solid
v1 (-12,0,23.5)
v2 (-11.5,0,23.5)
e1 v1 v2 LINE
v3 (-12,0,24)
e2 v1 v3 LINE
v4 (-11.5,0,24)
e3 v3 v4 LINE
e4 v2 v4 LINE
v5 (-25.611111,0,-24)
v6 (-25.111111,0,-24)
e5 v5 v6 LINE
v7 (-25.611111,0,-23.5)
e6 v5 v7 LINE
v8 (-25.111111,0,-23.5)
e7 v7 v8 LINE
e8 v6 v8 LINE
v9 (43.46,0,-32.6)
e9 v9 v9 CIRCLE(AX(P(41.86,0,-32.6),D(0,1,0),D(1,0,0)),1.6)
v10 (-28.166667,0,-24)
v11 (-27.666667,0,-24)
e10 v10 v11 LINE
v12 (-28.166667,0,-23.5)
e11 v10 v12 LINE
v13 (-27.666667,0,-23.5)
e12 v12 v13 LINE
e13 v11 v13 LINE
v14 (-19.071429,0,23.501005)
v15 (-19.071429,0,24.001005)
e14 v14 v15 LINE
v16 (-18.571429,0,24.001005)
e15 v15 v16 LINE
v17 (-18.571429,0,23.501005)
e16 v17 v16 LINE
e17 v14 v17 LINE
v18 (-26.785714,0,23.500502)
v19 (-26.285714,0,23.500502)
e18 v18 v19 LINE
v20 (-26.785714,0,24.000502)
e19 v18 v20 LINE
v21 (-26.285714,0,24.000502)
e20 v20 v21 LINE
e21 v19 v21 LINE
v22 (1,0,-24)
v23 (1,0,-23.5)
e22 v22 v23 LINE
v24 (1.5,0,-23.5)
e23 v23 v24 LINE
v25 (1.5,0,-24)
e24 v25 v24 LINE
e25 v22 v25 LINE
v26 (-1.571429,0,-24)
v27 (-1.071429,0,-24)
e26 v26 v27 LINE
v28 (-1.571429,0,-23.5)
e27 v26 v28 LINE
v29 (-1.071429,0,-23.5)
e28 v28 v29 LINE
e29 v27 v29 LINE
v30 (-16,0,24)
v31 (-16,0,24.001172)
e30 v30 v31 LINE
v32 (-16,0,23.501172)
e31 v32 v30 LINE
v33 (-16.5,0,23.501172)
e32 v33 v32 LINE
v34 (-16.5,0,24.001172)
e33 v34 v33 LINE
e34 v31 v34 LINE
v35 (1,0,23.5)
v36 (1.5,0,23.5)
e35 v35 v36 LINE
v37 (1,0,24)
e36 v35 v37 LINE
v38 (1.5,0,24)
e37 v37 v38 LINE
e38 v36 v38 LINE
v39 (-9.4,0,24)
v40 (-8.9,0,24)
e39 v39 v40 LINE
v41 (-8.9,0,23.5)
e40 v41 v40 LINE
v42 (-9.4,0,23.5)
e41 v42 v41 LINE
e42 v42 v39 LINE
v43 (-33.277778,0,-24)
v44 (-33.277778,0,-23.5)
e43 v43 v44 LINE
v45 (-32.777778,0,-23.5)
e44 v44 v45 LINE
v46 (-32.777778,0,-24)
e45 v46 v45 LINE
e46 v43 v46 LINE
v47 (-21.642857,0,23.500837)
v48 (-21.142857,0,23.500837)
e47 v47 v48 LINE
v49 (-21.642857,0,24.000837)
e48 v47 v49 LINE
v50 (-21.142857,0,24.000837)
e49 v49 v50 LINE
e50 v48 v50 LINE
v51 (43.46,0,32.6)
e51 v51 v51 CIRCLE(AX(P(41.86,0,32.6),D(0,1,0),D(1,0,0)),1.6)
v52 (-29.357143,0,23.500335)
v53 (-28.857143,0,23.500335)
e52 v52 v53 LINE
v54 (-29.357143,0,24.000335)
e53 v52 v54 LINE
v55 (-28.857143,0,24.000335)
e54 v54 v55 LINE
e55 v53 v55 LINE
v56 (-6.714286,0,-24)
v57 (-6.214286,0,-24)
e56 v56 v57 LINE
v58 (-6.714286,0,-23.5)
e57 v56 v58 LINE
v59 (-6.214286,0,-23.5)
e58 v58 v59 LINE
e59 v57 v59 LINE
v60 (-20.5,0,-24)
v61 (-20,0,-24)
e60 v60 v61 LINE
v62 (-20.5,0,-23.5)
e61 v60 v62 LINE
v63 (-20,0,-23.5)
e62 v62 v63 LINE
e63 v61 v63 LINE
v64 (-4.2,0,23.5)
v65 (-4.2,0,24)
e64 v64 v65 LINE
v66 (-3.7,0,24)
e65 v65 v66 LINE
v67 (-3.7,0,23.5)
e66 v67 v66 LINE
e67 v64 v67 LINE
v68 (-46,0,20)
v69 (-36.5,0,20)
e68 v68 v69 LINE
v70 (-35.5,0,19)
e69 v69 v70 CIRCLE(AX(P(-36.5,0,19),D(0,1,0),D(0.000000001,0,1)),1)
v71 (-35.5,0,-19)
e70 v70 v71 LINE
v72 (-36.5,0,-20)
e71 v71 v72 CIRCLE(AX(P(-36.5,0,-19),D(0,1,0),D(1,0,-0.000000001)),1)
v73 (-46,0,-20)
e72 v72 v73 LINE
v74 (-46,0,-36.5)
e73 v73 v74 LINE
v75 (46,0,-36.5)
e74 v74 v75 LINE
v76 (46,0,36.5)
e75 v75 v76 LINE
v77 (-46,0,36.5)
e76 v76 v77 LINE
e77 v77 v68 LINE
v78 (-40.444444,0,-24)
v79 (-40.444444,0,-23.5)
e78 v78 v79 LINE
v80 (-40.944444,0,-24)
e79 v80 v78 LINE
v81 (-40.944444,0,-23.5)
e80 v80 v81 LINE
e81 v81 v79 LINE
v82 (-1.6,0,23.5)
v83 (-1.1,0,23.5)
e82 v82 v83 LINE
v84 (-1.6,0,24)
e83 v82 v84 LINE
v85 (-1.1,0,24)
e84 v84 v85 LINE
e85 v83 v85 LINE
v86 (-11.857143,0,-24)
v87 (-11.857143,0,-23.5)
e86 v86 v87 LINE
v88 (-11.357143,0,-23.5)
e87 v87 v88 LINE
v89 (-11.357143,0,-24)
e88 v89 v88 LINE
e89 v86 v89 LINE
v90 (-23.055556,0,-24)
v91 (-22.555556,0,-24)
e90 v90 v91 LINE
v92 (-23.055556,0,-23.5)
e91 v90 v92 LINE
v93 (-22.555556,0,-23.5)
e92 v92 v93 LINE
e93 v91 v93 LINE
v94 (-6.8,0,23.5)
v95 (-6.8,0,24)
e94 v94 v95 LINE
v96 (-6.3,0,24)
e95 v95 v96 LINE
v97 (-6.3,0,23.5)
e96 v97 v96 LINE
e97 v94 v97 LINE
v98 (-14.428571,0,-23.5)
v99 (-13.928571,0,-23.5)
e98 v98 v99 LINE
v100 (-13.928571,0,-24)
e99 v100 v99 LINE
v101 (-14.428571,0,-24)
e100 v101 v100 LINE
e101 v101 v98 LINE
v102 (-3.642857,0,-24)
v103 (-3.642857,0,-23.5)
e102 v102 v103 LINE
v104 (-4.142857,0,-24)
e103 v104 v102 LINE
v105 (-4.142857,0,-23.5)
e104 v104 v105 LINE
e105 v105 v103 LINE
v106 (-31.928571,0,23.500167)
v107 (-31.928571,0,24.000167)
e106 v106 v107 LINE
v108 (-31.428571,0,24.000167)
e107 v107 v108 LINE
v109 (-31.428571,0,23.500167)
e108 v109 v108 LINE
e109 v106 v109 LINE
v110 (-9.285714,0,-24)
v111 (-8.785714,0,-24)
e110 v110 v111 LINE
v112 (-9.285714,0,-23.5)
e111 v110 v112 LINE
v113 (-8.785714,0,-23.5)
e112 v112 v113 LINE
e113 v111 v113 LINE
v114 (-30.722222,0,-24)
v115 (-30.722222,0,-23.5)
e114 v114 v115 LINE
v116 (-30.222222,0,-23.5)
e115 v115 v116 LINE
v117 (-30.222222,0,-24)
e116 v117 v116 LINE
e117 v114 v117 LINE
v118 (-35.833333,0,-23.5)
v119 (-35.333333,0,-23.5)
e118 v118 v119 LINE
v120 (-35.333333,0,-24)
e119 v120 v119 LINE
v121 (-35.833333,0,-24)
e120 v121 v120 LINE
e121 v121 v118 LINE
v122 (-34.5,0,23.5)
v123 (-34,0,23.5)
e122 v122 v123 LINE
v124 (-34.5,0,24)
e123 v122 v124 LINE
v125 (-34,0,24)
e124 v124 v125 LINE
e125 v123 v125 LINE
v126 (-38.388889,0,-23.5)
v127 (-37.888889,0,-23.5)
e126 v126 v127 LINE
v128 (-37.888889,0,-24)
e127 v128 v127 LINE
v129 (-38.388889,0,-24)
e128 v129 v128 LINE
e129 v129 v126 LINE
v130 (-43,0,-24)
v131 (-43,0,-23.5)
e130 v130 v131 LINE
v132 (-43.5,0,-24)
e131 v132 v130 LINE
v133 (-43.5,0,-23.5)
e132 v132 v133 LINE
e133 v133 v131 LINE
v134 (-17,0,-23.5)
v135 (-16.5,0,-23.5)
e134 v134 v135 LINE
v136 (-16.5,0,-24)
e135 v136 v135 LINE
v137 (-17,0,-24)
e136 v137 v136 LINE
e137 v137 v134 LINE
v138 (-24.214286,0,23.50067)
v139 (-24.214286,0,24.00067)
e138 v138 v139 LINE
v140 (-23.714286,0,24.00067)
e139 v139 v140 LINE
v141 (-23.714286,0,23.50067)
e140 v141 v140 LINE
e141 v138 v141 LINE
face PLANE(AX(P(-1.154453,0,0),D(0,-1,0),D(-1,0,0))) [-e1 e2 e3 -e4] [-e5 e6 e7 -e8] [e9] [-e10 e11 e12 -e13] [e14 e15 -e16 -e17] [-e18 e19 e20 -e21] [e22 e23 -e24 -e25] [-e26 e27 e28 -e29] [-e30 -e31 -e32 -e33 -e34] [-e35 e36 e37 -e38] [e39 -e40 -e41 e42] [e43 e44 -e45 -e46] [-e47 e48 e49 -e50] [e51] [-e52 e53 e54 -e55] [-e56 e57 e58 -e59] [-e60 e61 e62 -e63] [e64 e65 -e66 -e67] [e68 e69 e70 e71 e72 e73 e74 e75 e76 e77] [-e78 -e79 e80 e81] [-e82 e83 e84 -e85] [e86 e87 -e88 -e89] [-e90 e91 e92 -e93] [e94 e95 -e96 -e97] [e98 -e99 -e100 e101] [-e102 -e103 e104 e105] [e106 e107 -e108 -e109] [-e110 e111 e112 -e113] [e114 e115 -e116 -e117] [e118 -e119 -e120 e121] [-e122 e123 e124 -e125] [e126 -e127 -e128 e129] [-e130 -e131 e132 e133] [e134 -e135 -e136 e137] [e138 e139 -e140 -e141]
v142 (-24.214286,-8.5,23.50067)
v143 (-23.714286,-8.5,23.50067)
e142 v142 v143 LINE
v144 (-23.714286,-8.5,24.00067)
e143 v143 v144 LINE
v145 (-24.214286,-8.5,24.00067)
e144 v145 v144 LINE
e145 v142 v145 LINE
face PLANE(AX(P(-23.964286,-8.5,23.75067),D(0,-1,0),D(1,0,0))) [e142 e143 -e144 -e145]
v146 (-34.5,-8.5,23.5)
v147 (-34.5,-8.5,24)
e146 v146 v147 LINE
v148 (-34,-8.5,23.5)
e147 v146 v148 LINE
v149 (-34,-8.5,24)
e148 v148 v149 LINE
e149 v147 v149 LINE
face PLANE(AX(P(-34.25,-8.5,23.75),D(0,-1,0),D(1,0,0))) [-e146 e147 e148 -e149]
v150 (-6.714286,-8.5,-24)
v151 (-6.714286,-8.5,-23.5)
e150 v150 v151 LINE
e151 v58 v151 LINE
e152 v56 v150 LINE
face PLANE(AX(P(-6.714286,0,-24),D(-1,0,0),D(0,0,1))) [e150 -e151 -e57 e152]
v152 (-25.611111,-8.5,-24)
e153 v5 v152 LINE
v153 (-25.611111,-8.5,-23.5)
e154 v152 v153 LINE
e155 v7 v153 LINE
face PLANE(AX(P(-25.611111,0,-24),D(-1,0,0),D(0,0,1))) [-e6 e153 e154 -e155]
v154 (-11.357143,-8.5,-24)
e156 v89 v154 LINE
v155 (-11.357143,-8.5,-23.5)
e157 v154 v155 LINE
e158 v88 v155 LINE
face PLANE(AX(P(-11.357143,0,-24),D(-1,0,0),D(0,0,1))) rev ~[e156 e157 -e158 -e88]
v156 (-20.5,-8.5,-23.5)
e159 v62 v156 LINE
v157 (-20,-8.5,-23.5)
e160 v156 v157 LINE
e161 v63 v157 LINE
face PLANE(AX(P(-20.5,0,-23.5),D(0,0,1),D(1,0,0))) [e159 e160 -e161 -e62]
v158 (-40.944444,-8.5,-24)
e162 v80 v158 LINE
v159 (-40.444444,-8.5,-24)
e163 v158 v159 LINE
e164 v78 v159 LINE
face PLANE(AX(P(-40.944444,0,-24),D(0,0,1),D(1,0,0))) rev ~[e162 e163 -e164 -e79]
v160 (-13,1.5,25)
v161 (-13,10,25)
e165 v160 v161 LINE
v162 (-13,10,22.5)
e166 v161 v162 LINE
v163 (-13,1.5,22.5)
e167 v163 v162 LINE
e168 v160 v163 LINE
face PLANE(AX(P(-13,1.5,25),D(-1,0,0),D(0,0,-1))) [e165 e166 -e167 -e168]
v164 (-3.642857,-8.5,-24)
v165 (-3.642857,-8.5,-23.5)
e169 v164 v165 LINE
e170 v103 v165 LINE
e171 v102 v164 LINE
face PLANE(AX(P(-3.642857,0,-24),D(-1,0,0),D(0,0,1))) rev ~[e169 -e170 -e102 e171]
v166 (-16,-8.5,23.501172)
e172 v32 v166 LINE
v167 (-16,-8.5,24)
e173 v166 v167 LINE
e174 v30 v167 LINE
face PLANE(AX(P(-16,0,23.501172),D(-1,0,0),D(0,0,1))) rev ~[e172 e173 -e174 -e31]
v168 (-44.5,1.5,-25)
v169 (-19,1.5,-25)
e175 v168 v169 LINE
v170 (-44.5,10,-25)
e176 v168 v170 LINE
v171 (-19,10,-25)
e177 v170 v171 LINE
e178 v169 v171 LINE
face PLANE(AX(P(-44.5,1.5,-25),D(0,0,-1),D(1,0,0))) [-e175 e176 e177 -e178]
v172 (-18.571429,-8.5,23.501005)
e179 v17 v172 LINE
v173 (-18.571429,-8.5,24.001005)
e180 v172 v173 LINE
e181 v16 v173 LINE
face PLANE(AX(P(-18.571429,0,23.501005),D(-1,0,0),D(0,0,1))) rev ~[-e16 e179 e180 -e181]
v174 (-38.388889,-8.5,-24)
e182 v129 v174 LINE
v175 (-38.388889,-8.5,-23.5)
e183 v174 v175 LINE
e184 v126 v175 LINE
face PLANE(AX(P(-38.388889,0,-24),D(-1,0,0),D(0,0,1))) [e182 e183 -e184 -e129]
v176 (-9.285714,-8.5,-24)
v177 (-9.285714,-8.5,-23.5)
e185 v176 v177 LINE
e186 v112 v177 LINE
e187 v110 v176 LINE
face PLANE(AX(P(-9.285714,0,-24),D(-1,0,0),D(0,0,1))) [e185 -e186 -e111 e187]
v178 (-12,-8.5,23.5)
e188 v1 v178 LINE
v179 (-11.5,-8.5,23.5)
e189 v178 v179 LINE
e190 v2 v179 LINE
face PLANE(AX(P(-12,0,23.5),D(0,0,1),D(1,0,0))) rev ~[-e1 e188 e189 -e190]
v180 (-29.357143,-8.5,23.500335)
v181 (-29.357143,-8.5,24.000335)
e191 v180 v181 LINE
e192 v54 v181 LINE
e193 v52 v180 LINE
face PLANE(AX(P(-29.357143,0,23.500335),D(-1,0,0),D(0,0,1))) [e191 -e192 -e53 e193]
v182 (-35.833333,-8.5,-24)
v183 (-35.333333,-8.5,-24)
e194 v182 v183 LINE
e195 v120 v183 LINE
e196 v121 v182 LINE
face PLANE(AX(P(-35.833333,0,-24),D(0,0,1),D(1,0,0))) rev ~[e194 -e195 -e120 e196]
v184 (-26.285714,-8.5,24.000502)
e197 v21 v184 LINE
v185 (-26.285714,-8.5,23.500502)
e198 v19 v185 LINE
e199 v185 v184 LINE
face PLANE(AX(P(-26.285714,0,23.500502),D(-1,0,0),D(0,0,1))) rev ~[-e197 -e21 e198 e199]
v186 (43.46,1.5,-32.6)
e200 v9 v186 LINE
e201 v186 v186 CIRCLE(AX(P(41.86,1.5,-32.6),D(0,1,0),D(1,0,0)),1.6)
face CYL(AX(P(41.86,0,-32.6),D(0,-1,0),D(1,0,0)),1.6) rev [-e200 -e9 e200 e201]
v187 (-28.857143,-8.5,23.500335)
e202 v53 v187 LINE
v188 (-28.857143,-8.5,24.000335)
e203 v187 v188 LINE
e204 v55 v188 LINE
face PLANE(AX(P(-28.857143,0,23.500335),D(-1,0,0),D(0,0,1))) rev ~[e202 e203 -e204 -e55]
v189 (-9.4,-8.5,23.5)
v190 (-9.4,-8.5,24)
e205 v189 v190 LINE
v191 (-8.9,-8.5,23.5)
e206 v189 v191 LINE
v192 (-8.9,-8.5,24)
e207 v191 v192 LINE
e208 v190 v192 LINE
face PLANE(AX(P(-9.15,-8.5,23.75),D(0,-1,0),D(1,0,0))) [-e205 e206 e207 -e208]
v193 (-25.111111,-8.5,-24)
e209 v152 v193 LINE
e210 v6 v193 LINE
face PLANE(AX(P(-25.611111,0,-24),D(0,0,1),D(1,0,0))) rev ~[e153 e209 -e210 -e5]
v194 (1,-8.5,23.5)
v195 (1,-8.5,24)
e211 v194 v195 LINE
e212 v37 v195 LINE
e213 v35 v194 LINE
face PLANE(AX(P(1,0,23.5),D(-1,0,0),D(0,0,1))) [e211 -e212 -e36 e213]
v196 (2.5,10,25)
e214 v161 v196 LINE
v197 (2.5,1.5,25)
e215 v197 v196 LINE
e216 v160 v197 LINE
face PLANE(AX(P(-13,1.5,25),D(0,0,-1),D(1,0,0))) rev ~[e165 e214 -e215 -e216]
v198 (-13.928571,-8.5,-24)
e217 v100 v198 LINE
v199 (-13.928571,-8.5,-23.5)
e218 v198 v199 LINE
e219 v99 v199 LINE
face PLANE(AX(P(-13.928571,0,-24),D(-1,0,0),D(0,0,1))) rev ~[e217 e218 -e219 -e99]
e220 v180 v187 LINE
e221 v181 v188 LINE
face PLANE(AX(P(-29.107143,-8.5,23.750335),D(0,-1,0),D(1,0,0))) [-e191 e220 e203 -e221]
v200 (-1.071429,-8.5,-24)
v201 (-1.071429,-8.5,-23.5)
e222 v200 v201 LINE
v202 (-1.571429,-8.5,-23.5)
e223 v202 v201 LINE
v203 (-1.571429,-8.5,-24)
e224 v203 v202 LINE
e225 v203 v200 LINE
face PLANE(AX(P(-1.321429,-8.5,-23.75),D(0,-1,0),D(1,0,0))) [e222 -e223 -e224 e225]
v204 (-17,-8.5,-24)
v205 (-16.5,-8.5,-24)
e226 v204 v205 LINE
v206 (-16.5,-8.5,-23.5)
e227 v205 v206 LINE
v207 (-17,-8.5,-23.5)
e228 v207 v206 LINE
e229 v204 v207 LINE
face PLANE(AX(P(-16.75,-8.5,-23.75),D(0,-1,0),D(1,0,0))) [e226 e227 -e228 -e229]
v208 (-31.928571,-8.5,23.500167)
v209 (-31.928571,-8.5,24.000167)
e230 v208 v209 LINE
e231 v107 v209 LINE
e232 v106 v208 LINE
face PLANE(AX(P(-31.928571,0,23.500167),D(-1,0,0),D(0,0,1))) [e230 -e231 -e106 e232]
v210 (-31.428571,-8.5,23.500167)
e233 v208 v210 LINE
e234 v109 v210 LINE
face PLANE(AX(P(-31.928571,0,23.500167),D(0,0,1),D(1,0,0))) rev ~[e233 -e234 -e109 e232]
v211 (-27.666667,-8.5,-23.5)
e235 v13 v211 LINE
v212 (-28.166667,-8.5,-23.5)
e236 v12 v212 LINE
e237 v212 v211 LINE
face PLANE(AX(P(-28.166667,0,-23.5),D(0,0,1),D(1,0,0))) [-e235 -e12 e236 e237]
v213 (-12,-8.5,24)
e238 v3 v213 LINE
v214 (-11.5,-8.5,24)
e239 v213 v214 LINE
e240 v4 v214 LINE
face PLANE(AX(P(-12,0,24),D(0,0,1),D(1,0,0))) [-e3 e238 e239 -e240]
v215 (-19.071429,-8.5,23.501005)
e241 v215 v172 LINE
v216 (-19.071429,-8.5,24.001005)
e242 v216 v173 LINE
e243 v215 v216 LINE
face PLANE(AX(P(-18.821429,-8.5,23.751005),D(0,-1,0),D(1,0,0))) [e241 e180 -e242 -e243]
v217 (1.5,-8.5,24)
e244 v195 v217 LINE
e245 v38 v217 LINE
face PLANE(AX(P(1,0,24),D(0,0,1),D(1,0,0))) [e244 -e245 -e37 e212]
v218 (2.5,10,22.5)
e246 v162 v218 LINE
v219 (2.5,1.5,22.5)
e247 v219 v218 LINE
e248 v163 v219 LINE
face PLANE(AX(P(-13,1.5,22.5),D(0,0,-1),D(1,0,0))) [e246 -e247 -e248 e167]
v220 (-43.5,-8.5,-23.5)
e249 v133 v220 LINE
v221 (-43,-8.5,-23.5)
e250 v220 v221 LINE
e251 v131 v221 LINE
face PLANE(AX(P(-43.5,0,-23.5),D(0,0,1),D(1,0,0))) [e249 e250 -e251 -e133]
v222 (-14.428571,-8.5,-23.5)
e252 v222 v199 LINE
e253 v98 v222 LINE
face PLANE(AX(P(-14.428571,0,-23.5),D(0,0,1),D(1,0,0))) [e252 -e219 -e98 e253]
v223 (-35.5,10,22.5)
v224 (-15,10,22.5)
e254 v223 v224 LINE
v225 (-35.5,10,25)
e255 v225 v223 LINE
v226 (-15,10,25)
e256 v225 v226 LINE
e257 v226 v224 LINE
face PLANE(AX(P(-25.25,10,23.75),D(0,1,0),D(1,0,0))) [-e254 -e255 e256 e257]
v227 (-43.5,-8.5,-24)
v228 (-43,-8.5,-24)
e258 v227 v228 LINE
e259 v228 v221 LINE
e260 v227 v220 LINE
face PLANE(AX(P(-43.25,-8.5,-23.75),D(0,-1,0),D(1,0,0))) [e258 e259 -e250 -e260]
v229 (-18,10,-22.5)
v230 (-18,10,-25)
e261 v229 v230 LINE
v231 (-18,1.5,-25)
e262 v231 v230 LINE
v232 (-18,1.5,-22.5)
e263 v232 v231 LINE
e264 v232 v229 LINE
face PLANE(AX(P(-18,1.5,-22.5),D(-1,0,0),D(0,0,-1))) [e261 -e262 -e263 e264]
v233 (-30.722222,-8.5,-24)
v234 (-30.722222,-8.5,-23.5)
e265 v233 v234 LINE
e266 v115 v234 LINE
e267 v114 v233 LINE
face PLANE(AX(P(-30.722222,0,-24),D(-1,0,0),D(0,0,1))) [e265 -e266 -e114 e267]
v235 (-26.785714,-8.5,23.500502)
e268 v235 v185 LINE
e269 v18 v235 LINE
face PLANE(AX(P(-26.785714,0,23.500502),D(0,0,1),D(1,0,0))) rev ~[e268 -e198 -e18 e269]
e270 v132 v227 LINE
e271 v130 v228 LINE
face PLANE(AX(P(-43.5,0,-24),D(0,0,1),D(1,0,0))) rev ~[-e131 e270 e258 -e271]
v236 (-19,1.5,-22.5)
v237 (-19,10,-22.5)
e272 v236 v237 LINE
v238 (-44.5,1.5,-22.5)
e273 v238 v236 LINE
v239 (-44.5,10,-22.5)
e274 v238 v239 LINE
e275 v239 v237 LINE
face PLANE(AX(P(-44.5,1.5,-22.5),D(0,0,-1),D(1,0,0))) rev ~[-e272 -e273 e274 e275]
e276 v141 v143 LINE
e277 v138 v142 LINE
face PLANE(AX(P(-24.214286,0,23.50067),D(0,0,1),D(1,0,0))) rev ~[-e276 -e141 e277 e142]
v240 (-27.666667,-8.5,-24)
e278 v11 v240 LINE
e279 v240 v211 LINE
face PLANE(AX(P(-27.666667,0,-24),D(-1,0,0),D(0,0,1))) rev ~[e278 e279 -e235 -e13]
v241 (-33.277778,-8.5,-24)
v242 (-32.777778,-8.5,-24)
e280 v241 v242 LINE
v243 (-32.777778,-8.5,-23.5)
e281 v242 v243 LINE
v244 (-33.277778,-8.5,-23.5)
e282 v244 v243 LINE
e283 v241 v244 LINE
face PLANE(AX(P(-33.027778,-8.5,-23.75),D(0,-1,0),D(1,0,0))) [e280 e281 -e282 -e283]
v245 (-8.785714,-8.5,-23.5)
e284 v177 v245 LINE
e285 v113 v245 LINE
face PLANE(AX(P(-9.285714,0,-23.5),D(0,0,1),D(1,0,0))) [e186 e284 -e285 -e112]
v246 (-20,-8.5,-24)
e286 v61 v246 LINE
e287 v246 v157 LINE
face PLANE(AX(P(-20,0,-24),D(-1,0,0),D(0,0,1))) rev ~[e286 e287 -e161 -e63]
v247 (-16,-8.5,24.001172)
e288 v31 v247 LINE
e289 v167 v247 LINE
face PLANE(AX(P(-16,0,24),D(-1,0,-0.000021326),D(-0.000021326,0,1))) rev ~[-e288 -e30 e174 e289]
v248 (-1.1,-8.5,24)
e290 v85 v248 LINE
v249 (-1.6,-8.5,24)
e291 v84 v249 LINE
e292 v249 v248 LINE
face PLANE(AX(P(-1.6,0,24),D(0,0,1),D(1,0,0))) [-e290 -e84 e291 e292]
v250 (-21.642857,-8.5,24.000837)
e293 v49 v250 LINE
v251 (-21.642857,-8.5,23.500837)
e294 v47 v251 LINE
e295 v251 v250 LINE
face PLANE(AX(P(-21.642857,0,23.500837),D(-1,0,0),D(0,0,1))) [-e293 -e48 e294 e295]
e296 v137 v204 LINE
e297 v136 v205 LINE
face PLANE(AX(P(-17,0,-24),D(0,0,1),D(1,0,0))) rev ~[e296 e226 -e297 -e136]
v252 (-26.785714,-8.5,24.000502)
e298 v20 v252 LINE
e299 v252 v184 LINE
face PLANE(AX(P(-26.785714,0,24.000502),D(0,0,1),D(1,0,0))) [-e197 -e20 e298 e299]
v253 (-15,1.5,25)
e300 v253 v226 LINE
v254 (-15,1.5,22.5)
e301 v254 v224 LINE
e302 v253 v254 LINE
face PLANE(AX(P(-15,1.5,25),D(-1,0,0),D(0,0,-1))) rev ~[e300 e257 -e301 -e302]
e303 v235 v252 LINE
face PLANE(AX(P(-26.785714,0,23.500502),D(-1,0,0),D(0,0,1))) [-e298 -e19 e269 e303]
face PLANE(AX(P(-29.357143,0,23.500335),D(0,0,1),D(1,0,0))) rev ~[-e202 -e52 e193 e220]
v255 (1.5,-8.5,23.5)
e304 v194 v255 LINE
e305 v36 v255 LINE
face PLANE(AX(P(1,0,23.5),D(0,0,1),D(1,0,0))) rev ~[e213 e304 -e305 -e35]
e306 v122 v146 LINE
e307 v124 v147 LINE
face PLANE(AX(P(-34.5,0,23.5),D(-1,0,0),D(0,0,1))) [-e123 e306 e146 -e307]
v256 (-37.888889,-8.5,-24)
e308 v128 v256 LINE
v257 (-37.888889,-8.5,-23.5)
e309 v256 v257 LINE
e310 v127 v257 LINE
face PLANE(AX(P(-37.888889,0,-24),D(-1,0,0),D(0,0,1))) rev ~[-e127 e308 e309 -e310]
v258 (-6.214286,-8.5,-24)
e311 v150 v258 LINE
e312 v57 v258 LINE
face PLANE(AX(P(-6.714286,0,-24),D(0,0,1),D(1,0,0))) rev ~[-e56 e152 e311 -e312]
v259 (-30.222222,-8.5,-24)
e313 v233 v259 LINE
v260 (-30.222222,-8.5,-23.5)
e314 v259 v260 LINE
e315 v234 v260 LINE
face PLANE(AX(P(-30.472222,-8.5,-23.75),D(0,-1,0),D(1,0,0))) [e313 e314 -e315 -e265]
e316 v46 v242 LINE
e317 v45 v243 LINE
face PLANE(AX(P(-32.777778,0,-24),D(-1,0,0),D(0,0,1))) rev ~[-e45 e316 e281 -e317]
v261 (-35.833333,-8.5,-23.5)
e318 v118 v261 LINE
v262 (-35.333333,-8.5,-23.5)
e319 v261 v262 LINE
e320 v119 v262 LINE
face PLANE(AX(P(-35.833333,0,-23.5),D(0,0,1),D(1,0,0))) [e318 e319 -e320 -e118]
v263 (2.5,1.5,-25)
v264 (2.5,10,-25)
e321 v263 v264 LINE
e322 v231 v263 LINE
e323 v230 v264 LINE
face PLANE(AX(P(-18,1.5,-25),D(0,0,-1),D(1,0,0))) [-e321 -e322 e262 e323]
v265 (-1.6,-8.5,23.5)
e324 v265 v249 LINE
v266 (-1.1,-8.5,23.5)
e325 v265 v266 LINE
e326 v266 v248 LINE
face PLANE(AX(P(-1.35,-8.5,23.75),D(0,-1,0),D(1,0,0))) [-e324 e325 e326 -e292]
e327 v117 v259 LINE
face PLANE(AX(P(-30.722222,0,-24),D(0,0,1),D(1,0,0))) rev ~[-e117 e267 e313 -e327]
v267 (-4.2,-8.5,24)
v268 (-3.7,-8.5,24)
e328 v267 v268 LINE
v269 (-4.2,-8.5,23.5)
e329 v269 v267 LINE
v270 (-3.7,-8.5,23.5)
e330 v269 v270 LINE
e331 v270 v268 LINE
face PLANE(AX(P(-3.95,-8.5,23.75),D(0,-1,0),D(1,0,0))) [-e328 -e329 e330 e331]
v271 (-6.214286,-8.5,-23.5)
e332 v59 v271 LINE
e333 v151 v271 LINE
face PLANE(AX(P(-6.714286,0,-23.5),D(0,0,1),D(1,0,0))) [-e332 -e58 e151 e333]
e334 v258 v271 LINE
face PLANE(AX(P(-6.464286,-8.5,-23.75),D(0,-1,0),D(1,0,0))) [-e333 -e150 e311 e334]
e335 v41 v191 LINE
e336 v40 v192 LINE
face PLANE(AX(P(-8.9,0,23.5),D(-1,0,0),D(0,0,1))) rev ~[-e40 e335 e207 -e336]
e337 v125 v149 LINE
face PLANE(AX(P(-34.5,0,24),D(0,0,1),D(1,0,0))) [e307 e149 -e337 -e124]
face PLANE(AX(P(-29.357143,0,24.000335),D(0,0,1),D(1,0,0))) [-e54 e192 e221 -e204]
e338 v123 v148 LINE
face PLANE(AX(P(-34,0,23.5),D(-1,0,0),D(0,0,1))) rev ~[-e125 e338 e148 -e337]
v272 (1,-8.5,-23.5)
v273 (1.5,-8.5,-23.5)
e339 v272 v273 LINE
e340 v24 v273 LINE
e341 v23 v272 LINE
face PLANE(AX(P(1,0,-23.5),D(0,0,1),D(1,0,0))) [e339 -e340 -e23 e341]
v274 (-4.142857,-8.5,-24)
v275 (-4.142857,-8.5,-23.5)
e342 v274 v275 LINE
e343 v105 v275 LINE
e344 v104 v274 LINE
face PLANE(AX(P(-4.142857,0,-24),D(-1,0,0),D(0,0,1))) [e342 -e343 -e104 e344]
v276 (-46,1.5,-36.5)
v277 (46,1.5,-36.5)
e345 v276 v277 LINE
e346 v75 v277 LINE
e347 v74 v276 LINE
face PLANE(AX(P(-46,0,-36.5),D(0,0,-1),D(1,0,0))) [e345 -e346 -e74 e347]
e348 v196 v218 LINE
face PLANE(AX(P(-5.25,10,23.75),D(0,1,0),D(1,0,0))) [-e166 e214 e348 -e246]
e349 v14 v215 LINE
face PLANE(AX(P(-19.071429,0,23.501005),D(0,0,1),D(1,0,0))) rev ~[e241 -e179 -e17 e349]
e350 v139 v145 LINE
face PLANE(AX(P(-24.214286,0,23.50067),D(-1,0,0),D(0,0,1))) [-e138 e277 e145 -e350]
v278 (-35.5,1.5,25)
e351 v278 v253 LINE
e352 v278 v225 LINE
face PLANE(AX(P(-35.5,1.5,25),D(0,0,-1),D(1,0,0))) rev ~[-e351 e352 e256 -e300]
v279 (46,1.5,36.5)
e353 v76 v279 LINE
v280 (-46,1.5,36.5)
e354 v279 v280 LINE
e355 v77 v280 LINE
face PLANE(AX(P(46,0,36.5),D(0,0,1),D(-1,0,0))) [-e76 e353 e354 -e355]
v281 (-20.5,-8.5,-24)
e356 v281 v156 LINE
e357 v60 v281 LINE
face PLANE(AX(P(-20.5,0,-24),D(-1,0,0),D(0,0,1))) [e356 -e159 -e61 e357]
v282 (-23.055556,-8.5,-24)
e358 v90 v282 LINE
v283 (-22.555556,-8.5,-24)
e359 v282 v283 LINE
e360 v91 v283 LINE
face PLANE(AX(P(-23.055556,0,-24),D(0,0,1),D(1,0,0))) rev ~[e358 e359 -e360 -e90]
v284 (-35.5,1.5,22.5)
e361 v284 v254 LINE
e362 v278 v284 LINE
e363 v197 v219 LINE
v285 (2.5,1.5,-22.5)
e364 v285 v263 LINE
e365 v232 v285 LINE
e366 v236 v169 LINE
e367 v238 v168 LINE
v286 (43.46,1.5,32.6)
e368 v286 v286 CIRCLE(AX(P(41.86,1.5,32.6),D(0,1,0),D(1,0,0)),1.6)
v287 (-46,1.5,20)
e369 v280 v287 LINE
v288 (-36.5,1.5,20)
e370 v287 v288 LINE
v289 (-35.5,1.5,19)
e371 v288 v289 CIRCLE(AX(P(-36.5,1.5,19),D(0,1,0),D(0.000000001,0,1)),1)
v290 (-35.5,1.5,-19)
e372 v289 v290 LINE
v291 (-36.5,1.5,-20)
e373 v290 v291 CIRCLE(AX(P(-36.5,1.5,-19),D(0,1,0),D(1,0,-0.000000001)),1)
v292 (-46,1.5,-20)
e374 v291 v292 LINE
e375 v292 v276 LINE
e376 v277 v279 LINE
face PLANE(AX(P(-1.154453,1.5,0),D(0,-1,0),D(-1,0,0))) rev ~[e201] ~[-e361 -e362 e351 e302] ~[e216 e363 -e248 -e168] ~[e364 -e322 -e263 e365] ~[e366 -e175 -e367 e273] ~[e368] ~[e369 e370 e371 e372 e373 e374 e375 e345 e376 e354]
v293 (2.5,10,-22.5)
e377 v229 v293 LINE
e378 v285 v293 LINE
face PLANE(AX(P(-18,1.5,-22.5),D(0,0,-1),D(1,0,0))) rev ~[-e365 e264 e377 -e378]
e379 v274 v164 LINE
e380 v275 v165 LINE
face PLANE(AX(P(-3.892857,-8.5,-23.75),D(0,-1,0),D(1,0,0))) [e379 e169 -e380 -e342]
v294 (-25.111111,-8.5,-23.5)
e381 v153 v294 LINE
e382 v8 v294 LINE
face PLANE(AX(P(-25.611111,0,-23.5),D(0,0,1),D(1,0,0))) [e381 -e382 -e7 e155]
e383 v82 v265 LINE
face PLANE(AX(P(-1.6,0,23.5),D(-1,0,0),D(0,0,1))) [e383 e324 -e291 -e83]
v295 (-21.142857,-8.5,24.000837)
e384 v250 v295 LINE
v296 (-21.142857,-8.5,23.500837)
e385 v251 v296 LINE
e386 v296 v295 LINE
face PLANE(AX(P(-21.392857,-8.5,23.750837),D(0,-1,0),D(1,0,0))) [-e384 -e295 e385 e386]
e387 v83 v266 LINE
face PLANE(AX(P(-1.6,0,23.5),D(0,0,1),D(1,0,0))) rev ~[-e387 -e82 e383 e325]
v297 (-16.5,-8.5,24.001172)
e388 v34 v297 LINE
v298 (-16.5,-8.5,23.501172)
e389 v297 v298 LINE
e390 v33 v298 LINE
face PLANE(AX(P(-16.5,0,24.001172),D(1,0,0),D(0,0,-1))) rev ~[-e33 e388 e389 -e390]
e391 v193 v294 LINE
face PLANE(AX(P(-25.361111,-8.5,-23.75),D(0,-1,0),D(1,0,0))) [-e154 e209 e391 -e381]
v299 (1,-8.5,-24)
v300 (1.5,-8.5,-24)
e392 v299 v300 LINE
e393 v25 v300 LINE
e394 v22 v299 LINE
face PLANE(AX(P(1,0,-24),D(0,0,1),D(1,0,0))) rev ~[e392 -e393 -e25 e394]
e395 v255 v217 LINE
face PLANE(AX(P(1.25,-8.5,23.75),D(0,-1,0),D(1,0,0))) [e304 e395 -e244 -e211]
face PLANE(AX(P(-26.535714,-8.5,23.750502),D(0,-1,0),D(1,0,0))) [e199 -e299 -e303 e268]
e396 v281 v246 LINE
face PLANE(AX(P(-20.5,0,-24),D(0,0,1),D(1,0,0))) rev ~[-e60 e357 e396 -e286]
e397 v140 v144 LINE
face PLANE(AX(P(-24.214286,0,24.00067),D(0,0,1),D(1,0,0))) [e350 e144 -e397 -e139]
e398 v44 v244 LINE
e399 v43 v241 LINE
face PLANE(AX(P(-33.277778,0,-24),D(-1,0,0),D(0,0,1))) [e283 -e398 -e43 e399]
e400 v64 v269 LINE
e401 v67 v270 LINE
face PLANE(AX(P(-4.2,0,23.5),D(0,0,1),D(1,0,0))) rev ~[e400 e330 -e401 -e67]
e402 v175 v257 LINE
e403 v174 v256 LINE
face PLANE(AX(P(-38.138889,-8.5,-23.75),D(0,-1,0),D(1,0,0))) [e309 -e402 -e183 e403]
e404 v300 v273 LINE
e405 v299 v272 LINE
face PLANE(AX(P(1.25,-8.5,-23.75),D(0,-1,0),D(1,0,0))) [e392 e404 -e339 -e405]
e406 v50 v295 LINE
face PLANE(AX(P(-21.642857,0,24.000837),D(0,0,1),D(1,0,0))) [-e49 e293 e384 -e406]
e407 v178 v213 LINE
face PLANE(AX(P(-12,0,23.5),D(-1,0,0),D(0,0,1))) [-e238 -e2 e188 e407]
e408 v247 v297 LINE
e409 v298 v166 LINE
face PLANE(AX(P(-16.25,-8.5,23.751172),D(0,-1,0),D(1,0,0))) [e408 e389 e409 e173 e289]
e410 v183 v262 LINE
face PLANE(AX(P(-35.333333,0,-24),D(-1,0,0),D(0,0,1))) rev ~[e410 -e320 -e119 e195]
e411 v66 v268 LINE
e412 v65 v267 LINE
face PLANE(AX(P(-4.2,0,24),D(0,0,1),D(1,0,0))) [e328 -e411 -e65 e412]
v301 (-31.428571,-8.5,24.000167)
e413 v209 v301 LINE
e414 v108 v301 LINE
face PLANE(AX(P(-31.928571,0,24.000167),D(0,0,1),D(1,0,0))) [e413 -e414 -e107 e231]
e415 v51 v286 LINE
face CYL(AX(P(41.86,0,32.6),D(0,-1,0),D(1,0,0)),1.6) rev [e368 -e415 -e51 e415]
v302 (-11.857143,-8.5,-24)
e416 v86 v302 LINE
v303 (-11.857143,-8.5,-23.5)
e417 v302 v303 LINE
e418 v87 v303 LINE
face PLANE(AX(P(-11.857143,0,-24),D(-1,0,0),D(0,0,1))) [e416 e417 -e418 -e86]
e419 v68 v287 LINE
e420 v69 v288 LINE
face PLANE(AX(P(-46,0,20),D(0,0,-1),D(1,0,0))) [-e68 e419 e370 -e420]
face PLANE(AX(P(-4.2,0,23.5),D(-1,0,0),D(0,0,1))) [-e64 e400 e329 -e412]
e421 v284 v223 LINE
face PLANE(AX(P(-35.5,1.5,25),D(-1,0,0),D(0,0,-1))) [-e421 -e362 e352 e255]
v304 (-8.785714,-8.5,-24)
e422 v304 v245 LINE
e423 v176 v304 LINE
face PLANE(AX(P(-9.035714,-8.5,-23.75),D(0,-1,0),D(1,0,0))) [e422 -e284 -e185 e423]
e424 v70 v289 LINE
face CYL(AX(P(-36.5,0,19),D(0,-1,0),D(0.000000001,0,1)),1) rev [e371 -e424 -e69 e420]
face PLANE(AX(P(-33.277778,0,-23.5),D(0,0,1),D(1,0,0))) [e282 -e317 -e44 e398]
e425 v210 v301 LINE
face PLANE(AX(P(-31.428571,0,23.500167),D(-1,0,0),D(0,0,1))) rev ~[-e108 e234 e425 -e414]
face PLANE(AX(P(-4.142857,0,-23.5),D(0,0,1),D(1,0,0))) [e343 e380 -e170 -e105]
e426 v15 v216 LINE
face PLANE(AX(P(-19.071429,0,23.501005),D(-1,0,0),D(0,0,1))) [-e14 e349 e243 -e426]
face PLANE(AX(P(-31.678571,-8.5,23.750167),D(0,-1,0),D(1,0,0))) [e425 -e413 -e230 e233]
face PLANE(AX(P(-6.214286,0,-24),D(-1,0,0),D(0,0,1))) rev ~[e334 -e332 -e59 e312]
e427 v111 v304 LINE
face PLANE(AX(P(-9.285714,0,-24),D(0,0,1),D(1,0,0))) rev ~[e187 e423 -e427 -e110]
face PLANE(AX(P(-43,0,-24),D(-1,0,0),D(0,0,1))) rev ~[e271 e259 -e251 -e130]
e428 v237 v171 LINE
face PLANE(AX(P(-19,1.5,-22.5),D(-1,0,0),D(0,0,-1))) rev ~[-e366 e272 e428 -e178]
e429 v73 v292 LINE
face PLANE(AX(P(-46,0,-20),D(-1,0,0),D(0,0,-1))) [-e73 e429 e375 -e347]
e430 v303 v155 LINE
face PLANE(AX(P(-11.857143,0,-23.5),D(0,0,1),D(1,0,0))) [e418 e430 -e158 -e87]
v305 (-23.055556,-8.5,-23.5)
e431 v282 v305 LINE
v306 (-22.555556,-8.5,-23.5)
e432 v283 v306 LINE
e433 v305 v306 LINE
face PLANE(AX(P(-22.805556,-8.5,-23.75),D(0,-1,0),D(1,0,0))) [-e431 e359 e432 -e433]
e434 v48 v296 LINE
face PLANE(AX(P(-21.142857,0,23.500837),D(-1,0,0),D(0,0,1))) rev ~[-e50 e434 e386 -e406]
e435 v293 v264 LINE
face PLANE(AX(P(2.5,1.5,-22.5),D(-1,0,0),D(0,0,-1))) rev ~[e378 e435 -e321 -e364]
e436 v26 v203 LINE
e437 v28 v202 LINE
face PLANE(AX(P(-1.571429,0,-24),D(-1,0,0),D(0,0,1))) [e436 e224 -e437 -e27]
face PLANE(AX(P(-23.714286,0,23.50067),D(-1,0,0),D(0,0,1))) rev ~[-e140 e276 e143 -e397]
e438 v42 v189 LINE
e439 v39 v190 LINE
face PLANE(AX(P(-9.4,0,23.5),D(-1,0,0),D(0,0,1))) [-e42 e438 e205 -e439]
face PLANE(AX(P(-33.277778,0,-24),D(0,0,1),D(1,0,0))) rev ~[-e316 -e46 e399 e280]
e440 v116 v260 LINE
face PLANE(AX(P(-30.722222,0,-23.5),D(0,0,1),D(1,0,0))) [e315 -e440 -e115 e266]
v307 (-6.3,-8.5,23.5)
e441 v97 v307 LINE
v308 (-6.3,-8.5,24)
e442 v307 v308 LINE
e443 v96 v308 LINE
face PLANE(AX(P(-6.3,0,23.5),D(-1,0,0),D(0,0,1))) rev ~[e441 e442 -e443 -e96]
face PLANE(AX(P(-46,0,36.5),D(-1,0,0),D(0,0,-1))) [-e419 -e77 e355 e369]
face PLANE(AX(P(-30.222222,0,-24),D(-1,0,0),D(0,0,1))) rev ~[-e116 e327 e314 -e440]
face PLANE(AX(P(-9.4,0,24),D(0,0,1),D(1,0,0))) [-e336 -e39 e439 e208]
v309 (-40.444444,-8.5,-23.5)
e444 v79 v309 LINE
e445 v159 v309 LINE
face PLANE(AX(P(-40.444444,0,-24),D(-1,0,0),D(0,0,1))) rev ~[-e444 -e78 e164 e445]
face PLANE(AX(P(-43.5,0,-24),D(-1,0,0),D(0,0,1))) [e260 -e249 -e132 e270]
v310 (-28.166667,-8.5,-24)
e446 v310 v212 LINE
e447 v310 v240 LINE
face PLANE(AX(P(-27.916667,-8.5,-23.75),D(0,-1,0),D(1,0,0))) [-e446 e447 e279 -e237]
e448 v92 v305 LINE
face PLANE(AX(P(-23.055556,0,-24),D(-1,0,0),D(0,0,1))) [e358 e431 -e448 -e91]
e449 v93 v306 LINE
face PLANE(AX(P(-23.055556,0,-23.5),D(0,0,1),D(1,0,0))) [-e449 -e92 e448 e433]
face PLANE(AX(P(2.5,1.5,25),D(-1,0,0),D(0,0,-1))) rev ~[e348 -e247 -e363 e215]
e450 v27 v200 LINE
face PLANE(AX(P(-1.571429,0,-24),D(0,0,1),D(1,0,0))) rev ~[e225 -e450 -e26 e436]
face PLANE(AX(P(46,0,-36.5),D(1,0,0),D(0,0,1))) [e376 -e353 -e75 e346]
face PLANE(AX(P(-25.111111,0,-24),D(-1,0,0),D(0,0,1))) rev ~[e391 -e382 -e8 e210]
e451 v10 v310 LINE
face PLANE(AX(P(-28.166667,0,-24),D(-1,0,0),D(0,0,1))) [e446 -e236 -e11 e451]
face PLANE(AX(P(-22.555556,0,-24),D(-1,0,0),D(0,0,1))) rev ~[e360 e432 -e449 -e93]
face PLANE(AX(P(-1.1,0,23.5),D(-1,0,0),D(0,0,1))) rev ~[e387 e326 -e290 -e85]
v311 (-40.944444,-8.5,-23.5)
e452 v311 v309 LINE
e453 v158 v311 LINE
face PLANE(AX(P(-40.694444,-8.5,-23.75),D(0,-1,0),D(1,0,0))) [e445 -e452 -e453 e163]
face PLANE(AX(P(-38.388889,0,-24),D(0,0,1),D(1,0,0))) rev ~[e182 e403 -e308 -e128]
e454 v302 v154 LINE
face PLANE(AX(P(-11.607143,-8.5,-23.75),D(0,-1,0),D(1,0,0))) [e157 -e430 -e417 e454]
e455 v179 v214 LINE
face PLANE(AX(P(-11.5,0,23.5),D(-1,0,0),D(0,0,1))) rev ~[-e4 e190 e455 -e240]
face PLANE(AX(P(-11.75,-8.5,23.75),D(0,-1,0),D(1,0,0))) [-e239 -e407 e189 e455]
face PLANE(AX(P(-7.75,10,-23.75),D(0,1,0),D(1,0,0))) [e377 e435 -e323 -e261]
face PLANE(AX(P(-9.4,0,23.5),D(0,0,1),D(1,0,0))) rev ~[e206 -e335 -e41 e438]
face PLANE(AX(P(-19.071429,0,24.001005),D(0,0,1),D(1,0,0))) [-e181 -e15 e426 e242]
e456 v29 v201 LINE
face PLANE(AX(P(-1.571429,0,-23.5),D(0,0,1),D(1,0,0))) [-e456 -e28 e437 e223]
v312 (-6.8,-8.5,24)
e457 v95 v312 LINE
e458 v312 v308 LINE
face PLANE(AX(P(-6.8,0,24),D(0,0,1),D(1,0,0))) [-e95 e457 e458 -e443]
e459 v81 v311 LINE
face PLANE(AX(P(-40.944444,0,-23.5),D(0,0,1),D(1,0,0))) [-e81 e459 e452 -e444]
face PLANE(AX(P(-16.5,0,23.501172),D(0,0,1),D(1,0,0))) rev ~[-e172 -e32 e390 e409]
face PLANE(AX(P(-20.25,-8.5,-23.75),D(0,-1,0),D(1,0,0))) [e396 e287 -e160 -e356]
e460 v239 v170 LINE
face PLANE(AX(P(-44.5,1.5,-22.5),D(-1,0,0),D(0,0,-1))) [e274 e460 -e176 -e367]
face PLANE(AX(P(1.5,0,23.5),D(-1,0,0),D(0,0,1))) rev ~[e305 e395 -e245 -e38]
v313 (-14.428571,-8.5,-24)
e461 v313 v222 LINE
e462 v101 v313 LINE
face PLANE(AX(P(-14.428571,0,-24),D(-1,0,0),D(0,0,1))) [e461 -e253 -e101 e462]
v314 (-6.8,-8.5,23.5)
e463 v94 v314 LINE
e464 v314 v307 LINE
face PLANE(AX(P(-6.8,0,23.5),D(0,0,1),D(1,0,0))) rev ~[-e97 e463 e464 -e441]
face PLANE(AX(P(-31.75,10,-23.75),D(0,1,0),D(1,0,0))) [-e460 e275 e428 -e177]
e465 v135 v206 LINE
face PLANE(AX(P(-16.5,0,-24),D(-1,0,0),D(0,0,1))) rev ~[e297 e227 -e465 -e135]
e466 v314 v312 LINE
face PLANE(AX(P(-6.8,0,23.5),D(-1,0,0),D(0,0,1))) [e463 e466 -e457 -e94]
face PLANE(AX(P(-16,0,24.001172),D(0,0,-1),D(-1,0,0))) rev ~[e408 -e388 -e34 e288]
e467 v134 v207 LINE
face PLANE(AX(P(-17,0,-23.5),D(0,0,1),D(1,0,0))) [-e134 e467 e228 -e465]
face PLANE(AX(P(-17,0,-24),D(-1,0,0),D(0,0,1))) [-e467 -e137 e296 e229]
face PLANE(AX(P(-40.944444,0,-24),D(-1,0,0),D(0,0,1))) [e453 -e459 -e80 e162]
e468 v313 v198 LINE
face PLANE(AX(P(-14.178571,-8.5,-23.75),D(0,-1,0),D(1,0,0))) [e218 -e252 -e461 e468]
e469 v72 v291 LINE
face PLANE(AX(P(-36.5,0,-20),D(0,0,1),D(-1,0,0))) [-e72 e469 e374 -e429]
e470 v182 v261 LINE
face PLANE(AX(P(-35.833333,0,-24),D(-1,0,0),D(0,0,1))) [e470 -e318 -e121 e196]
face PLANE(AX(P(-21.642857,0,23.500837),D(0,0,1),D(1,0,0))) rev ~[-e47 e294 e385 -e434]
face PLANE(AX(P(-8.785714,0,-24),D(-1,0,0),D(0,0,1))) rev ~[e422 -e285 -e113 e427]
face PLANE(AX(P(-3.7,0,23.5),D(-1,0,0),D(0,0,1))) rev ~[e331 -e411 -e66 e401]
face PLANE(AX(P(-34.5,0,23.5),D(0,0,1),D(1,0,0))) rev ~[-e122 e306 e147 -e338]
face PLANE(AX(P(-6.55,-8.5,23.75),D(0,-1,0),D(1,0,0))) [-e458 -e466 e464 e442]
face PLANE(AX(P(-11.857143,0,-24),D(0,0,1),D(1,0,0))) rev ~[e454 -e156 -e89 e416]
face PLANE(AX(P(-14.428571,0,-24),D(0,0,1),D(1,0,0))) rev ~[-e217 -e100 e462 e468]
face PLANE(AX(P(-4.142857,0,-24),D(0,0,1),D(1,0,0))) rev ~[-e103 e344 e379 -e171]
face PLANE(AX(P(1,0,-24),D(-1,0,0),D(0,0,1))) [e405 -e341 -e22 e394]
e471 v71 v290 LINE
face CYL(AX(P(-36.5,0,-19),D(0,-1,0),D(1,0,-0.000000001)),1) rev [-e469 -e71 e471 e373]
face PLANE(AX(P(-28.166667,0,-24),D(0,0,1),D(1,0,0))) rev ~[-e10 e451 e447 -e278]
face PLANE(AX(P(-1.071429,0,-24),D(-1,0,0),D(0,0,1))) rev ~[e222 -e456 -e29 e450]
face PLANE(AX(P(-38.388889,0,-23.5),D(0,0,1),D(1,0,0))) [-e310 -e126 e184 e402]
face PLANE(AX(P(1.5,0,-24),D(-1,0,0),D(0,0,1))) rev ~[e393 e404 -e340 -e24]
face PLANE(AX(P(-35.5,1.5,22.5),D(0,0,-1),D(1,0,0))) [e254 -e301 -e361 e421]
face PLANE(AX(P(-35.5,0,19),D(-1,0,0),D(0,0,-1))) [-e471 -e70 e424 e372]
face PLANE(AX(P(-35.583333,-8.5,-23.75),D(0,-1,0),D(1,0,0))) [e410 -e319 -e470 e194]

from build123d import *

# Parameters (mm, degrees)
SZKIC1_R                    = 1.6
DODANIE_WYCI_GNI_CIE1_DEPTH = 1.5
SZKIC2_W                    = 15.5
SZKIC2_H                    = 2.5
SZKIC2_W_2                  = 20.5
SZKIC2_W_3                  = 25.5
DODANIE_WYCI_GNI_CIE2_DEPTH = 8.5
SZKIC3_W                    = 0.5
SZKIC3_H                    = 0.5
DODANIE_WYCI_GNI_CIE3_DEPTH = 8.5


with BuildPart() as part:
    # Szkic1 → Dodanie-wyciągnięcie1 (new body)
    with BuildSketch(Plane(origin=(0, 0, 0), x_dir=(1, 0, 0), z_dir=(0, 1, 0))):
        with BuildLine():
            Line((-46, 36.5), (46, 36.5))
            Line((46, 36.5), (46, -36.5))
            Line((46, -36.5), (-46, -36.5))
            Line((-46, -36.5), (-46, -20))
            Line((-46, -20), (-36.5, -20))
            ThreePointArc((-36.5, -20), (-35.792893219, -19.707106781), (-35.5, -19))
            Line((-35.5, -19), (-35.5, 19))
            ThreePointArc((-35.5, 19), (-35.792893219, 19.707106781), (-36.5, 20))
            Line((-36.5, 20), (-46, 20))
            Line((-46, 20), (-46, 36.5))
        make_face()
        with Locations((41.86, 32.6)):
            Circle(SZKIC1_R, mode=Mode.SUBTRACT)
        with Locations((41.86, -32.6)):
            Circle(SZKIC1_R, mode=Mode.SUBTRACT)
    extrude(amount=DODANIE_WYCI_GNI_CIE1_DEPTH)

    # Szkic2 → Dodanie-wyciągnięcie2 (add)
    with BuildSketch(Plane(origin=(0, 1.5, 0), x_dir=(1, 0, 0), z_dir=(0, 1, 0))):
        with Locations((-5.25, -23.75)):
            Rectangle(SZKIC2_W, SZKIC2_H)
        with Locations((-25.25, -23.75)):
            Rectangle(SZKIC2_W_2, SZKIC2_H)
        with Locations((-7.75, 23.75)):
            Rectangle(SZKIC2_W_2, SZKIC2_H)
        with Locations((-31.75, 23.75)):
            Rectangle(SZKIC2_W_3, SZKIC2_H)
    extrude(amount=DODANIE_WYCI_GNI_CIE2_DEPTH)

    # Szkic3 → Dodanie-wyciągnięcie3 (add)
    with BuildSketch(Plane.XZ):
        with Locations((-43.25, -23.75)):
            Rectangle(SZKIC3_W, SZKIC3_H)
        with Locations((-40.694444444, -23.75)):
            Rectangle(SZKIC3_W, SZKIC3_H)
        with Locations((-38.138888889, -23.75)):
            Rectangle(SZKIC3_W, SZKIC3_H)
        with Locations((-35.583333333, -23.75)):
            Rectangle(SZKIC3_W, SZKIC3_H)
        with Locations((-33.027777778, -23.75)):
            Rectangle(SZKIC3_W, SZKIC3_H)
        with Locations((-30.472222222, -23.75)):
            Rectangle(SZKIC3_W, SZKIC3_H)
        with Locations((-27.916666667, -23.75)):
            Rectangle(SZKIC3_W, SZKIC3_H)
        with Locations((-25.361111111, -23.75)):
            Rectangle(SZKIC3_W, SZKIC3_H)
        with Locations((-22.805555556, -23.75)):
            Rectangle(SZKIC3_W, SZKIC3_H)
        with Locations((-20.25, -23.75)):
            Rectangle(SZKIC3_W, SZKIC3_H)
        with Locations((-16.75, -23.75)):
            Rectangle(SZKIC3_W, SZKIC3_H)
        with Locations((-14.178571429, -23.75)):
            Rectangle(SZKIC3_W, SZKIC3_H)
        with Locations((-11.607142857, -23.75)):
            Rectangle(SZKIC3_W, SZKIC3_H)
        with Locations((-9.035714286, -23.75)):
            Rectangle(SZKIC3_W, SZKIC3_H)
        with Locations((-6.464285714, -23.75)):
            Rectangle(SZKIC3_W, SZKIC3_H)
        with Locations((-3.892857143, -23.75)):
            Rectangle(SZKIC3_W, SZKIC3_H)
        with Locations((-1.321428571, -23.75)):
            Rectangle(SZKIC3_W, SZKIC3_H)
        with Locations((1.25, -23.75)):
            Rectangle(SZKIC3_W, SZKIC3_H)
        with Locations((-34.25, 23.75)):
            Rectangle(SZKIC3_W, SZKIC3_H)
        with Locations((-31.678571432, 23.750167466)):
            Rectangle(SZKIC3_W, SZKIC3_H)
        with Locations((-29.107142864, 23.750334931)):
            Rectangle(SZKIC3_W, SZKIC3_H)
        with Locations((-26.535714297, 23.750502397)):
            Rectangle(SZKIC3_W, SZKIC3_H)
        with Locations((-23.964285729, 23.750669862)):
            Rectangle(SZKIC3_W, SZKIC3_H)
        with Locations((-21.392857161, 23.750837328)):
            Rectangle(SZKIC3_W, SZKIC3_H)
        with Locations((-18.821428593, 23.751004794)):
            Rectangle(SZKIC3_W, SZKIC3_H)
        Polygon((-16, 23.501172259), (-16, 24), (-16.000000025, 24.001172259), (-16.500000025, 24.001172259), (-16.500000025, 23.501172259), align=None)
        with Locations((-11.75, 23.75)):
            Rectangle(SZKIC3_W, SZKIC3_H)
        with Locations((-9.15, 23.75)):
            Rectangle(SZKIC3_W, SZKIC3_H)
        with Locations((-6.55, 23.75)):
            Rectangle(SZKIC3_W, SZKIC3_H)
        with Locations((-3.95, 23.75)):
            Rectangle(SZKIC3_W, SZKIC3_H)
        with Locations((-1.35, 23.75)):
            Rectangle(SZKIC3_W, SZKIC3_H)
        with Locations((1.25, 23.75)):
            Rectangle(SZKIC3_W, SZKIC3_H)
    extrude(amount=DODANIE_WYCI_GNI_CIE3_DEPTH)


solid = part.part
